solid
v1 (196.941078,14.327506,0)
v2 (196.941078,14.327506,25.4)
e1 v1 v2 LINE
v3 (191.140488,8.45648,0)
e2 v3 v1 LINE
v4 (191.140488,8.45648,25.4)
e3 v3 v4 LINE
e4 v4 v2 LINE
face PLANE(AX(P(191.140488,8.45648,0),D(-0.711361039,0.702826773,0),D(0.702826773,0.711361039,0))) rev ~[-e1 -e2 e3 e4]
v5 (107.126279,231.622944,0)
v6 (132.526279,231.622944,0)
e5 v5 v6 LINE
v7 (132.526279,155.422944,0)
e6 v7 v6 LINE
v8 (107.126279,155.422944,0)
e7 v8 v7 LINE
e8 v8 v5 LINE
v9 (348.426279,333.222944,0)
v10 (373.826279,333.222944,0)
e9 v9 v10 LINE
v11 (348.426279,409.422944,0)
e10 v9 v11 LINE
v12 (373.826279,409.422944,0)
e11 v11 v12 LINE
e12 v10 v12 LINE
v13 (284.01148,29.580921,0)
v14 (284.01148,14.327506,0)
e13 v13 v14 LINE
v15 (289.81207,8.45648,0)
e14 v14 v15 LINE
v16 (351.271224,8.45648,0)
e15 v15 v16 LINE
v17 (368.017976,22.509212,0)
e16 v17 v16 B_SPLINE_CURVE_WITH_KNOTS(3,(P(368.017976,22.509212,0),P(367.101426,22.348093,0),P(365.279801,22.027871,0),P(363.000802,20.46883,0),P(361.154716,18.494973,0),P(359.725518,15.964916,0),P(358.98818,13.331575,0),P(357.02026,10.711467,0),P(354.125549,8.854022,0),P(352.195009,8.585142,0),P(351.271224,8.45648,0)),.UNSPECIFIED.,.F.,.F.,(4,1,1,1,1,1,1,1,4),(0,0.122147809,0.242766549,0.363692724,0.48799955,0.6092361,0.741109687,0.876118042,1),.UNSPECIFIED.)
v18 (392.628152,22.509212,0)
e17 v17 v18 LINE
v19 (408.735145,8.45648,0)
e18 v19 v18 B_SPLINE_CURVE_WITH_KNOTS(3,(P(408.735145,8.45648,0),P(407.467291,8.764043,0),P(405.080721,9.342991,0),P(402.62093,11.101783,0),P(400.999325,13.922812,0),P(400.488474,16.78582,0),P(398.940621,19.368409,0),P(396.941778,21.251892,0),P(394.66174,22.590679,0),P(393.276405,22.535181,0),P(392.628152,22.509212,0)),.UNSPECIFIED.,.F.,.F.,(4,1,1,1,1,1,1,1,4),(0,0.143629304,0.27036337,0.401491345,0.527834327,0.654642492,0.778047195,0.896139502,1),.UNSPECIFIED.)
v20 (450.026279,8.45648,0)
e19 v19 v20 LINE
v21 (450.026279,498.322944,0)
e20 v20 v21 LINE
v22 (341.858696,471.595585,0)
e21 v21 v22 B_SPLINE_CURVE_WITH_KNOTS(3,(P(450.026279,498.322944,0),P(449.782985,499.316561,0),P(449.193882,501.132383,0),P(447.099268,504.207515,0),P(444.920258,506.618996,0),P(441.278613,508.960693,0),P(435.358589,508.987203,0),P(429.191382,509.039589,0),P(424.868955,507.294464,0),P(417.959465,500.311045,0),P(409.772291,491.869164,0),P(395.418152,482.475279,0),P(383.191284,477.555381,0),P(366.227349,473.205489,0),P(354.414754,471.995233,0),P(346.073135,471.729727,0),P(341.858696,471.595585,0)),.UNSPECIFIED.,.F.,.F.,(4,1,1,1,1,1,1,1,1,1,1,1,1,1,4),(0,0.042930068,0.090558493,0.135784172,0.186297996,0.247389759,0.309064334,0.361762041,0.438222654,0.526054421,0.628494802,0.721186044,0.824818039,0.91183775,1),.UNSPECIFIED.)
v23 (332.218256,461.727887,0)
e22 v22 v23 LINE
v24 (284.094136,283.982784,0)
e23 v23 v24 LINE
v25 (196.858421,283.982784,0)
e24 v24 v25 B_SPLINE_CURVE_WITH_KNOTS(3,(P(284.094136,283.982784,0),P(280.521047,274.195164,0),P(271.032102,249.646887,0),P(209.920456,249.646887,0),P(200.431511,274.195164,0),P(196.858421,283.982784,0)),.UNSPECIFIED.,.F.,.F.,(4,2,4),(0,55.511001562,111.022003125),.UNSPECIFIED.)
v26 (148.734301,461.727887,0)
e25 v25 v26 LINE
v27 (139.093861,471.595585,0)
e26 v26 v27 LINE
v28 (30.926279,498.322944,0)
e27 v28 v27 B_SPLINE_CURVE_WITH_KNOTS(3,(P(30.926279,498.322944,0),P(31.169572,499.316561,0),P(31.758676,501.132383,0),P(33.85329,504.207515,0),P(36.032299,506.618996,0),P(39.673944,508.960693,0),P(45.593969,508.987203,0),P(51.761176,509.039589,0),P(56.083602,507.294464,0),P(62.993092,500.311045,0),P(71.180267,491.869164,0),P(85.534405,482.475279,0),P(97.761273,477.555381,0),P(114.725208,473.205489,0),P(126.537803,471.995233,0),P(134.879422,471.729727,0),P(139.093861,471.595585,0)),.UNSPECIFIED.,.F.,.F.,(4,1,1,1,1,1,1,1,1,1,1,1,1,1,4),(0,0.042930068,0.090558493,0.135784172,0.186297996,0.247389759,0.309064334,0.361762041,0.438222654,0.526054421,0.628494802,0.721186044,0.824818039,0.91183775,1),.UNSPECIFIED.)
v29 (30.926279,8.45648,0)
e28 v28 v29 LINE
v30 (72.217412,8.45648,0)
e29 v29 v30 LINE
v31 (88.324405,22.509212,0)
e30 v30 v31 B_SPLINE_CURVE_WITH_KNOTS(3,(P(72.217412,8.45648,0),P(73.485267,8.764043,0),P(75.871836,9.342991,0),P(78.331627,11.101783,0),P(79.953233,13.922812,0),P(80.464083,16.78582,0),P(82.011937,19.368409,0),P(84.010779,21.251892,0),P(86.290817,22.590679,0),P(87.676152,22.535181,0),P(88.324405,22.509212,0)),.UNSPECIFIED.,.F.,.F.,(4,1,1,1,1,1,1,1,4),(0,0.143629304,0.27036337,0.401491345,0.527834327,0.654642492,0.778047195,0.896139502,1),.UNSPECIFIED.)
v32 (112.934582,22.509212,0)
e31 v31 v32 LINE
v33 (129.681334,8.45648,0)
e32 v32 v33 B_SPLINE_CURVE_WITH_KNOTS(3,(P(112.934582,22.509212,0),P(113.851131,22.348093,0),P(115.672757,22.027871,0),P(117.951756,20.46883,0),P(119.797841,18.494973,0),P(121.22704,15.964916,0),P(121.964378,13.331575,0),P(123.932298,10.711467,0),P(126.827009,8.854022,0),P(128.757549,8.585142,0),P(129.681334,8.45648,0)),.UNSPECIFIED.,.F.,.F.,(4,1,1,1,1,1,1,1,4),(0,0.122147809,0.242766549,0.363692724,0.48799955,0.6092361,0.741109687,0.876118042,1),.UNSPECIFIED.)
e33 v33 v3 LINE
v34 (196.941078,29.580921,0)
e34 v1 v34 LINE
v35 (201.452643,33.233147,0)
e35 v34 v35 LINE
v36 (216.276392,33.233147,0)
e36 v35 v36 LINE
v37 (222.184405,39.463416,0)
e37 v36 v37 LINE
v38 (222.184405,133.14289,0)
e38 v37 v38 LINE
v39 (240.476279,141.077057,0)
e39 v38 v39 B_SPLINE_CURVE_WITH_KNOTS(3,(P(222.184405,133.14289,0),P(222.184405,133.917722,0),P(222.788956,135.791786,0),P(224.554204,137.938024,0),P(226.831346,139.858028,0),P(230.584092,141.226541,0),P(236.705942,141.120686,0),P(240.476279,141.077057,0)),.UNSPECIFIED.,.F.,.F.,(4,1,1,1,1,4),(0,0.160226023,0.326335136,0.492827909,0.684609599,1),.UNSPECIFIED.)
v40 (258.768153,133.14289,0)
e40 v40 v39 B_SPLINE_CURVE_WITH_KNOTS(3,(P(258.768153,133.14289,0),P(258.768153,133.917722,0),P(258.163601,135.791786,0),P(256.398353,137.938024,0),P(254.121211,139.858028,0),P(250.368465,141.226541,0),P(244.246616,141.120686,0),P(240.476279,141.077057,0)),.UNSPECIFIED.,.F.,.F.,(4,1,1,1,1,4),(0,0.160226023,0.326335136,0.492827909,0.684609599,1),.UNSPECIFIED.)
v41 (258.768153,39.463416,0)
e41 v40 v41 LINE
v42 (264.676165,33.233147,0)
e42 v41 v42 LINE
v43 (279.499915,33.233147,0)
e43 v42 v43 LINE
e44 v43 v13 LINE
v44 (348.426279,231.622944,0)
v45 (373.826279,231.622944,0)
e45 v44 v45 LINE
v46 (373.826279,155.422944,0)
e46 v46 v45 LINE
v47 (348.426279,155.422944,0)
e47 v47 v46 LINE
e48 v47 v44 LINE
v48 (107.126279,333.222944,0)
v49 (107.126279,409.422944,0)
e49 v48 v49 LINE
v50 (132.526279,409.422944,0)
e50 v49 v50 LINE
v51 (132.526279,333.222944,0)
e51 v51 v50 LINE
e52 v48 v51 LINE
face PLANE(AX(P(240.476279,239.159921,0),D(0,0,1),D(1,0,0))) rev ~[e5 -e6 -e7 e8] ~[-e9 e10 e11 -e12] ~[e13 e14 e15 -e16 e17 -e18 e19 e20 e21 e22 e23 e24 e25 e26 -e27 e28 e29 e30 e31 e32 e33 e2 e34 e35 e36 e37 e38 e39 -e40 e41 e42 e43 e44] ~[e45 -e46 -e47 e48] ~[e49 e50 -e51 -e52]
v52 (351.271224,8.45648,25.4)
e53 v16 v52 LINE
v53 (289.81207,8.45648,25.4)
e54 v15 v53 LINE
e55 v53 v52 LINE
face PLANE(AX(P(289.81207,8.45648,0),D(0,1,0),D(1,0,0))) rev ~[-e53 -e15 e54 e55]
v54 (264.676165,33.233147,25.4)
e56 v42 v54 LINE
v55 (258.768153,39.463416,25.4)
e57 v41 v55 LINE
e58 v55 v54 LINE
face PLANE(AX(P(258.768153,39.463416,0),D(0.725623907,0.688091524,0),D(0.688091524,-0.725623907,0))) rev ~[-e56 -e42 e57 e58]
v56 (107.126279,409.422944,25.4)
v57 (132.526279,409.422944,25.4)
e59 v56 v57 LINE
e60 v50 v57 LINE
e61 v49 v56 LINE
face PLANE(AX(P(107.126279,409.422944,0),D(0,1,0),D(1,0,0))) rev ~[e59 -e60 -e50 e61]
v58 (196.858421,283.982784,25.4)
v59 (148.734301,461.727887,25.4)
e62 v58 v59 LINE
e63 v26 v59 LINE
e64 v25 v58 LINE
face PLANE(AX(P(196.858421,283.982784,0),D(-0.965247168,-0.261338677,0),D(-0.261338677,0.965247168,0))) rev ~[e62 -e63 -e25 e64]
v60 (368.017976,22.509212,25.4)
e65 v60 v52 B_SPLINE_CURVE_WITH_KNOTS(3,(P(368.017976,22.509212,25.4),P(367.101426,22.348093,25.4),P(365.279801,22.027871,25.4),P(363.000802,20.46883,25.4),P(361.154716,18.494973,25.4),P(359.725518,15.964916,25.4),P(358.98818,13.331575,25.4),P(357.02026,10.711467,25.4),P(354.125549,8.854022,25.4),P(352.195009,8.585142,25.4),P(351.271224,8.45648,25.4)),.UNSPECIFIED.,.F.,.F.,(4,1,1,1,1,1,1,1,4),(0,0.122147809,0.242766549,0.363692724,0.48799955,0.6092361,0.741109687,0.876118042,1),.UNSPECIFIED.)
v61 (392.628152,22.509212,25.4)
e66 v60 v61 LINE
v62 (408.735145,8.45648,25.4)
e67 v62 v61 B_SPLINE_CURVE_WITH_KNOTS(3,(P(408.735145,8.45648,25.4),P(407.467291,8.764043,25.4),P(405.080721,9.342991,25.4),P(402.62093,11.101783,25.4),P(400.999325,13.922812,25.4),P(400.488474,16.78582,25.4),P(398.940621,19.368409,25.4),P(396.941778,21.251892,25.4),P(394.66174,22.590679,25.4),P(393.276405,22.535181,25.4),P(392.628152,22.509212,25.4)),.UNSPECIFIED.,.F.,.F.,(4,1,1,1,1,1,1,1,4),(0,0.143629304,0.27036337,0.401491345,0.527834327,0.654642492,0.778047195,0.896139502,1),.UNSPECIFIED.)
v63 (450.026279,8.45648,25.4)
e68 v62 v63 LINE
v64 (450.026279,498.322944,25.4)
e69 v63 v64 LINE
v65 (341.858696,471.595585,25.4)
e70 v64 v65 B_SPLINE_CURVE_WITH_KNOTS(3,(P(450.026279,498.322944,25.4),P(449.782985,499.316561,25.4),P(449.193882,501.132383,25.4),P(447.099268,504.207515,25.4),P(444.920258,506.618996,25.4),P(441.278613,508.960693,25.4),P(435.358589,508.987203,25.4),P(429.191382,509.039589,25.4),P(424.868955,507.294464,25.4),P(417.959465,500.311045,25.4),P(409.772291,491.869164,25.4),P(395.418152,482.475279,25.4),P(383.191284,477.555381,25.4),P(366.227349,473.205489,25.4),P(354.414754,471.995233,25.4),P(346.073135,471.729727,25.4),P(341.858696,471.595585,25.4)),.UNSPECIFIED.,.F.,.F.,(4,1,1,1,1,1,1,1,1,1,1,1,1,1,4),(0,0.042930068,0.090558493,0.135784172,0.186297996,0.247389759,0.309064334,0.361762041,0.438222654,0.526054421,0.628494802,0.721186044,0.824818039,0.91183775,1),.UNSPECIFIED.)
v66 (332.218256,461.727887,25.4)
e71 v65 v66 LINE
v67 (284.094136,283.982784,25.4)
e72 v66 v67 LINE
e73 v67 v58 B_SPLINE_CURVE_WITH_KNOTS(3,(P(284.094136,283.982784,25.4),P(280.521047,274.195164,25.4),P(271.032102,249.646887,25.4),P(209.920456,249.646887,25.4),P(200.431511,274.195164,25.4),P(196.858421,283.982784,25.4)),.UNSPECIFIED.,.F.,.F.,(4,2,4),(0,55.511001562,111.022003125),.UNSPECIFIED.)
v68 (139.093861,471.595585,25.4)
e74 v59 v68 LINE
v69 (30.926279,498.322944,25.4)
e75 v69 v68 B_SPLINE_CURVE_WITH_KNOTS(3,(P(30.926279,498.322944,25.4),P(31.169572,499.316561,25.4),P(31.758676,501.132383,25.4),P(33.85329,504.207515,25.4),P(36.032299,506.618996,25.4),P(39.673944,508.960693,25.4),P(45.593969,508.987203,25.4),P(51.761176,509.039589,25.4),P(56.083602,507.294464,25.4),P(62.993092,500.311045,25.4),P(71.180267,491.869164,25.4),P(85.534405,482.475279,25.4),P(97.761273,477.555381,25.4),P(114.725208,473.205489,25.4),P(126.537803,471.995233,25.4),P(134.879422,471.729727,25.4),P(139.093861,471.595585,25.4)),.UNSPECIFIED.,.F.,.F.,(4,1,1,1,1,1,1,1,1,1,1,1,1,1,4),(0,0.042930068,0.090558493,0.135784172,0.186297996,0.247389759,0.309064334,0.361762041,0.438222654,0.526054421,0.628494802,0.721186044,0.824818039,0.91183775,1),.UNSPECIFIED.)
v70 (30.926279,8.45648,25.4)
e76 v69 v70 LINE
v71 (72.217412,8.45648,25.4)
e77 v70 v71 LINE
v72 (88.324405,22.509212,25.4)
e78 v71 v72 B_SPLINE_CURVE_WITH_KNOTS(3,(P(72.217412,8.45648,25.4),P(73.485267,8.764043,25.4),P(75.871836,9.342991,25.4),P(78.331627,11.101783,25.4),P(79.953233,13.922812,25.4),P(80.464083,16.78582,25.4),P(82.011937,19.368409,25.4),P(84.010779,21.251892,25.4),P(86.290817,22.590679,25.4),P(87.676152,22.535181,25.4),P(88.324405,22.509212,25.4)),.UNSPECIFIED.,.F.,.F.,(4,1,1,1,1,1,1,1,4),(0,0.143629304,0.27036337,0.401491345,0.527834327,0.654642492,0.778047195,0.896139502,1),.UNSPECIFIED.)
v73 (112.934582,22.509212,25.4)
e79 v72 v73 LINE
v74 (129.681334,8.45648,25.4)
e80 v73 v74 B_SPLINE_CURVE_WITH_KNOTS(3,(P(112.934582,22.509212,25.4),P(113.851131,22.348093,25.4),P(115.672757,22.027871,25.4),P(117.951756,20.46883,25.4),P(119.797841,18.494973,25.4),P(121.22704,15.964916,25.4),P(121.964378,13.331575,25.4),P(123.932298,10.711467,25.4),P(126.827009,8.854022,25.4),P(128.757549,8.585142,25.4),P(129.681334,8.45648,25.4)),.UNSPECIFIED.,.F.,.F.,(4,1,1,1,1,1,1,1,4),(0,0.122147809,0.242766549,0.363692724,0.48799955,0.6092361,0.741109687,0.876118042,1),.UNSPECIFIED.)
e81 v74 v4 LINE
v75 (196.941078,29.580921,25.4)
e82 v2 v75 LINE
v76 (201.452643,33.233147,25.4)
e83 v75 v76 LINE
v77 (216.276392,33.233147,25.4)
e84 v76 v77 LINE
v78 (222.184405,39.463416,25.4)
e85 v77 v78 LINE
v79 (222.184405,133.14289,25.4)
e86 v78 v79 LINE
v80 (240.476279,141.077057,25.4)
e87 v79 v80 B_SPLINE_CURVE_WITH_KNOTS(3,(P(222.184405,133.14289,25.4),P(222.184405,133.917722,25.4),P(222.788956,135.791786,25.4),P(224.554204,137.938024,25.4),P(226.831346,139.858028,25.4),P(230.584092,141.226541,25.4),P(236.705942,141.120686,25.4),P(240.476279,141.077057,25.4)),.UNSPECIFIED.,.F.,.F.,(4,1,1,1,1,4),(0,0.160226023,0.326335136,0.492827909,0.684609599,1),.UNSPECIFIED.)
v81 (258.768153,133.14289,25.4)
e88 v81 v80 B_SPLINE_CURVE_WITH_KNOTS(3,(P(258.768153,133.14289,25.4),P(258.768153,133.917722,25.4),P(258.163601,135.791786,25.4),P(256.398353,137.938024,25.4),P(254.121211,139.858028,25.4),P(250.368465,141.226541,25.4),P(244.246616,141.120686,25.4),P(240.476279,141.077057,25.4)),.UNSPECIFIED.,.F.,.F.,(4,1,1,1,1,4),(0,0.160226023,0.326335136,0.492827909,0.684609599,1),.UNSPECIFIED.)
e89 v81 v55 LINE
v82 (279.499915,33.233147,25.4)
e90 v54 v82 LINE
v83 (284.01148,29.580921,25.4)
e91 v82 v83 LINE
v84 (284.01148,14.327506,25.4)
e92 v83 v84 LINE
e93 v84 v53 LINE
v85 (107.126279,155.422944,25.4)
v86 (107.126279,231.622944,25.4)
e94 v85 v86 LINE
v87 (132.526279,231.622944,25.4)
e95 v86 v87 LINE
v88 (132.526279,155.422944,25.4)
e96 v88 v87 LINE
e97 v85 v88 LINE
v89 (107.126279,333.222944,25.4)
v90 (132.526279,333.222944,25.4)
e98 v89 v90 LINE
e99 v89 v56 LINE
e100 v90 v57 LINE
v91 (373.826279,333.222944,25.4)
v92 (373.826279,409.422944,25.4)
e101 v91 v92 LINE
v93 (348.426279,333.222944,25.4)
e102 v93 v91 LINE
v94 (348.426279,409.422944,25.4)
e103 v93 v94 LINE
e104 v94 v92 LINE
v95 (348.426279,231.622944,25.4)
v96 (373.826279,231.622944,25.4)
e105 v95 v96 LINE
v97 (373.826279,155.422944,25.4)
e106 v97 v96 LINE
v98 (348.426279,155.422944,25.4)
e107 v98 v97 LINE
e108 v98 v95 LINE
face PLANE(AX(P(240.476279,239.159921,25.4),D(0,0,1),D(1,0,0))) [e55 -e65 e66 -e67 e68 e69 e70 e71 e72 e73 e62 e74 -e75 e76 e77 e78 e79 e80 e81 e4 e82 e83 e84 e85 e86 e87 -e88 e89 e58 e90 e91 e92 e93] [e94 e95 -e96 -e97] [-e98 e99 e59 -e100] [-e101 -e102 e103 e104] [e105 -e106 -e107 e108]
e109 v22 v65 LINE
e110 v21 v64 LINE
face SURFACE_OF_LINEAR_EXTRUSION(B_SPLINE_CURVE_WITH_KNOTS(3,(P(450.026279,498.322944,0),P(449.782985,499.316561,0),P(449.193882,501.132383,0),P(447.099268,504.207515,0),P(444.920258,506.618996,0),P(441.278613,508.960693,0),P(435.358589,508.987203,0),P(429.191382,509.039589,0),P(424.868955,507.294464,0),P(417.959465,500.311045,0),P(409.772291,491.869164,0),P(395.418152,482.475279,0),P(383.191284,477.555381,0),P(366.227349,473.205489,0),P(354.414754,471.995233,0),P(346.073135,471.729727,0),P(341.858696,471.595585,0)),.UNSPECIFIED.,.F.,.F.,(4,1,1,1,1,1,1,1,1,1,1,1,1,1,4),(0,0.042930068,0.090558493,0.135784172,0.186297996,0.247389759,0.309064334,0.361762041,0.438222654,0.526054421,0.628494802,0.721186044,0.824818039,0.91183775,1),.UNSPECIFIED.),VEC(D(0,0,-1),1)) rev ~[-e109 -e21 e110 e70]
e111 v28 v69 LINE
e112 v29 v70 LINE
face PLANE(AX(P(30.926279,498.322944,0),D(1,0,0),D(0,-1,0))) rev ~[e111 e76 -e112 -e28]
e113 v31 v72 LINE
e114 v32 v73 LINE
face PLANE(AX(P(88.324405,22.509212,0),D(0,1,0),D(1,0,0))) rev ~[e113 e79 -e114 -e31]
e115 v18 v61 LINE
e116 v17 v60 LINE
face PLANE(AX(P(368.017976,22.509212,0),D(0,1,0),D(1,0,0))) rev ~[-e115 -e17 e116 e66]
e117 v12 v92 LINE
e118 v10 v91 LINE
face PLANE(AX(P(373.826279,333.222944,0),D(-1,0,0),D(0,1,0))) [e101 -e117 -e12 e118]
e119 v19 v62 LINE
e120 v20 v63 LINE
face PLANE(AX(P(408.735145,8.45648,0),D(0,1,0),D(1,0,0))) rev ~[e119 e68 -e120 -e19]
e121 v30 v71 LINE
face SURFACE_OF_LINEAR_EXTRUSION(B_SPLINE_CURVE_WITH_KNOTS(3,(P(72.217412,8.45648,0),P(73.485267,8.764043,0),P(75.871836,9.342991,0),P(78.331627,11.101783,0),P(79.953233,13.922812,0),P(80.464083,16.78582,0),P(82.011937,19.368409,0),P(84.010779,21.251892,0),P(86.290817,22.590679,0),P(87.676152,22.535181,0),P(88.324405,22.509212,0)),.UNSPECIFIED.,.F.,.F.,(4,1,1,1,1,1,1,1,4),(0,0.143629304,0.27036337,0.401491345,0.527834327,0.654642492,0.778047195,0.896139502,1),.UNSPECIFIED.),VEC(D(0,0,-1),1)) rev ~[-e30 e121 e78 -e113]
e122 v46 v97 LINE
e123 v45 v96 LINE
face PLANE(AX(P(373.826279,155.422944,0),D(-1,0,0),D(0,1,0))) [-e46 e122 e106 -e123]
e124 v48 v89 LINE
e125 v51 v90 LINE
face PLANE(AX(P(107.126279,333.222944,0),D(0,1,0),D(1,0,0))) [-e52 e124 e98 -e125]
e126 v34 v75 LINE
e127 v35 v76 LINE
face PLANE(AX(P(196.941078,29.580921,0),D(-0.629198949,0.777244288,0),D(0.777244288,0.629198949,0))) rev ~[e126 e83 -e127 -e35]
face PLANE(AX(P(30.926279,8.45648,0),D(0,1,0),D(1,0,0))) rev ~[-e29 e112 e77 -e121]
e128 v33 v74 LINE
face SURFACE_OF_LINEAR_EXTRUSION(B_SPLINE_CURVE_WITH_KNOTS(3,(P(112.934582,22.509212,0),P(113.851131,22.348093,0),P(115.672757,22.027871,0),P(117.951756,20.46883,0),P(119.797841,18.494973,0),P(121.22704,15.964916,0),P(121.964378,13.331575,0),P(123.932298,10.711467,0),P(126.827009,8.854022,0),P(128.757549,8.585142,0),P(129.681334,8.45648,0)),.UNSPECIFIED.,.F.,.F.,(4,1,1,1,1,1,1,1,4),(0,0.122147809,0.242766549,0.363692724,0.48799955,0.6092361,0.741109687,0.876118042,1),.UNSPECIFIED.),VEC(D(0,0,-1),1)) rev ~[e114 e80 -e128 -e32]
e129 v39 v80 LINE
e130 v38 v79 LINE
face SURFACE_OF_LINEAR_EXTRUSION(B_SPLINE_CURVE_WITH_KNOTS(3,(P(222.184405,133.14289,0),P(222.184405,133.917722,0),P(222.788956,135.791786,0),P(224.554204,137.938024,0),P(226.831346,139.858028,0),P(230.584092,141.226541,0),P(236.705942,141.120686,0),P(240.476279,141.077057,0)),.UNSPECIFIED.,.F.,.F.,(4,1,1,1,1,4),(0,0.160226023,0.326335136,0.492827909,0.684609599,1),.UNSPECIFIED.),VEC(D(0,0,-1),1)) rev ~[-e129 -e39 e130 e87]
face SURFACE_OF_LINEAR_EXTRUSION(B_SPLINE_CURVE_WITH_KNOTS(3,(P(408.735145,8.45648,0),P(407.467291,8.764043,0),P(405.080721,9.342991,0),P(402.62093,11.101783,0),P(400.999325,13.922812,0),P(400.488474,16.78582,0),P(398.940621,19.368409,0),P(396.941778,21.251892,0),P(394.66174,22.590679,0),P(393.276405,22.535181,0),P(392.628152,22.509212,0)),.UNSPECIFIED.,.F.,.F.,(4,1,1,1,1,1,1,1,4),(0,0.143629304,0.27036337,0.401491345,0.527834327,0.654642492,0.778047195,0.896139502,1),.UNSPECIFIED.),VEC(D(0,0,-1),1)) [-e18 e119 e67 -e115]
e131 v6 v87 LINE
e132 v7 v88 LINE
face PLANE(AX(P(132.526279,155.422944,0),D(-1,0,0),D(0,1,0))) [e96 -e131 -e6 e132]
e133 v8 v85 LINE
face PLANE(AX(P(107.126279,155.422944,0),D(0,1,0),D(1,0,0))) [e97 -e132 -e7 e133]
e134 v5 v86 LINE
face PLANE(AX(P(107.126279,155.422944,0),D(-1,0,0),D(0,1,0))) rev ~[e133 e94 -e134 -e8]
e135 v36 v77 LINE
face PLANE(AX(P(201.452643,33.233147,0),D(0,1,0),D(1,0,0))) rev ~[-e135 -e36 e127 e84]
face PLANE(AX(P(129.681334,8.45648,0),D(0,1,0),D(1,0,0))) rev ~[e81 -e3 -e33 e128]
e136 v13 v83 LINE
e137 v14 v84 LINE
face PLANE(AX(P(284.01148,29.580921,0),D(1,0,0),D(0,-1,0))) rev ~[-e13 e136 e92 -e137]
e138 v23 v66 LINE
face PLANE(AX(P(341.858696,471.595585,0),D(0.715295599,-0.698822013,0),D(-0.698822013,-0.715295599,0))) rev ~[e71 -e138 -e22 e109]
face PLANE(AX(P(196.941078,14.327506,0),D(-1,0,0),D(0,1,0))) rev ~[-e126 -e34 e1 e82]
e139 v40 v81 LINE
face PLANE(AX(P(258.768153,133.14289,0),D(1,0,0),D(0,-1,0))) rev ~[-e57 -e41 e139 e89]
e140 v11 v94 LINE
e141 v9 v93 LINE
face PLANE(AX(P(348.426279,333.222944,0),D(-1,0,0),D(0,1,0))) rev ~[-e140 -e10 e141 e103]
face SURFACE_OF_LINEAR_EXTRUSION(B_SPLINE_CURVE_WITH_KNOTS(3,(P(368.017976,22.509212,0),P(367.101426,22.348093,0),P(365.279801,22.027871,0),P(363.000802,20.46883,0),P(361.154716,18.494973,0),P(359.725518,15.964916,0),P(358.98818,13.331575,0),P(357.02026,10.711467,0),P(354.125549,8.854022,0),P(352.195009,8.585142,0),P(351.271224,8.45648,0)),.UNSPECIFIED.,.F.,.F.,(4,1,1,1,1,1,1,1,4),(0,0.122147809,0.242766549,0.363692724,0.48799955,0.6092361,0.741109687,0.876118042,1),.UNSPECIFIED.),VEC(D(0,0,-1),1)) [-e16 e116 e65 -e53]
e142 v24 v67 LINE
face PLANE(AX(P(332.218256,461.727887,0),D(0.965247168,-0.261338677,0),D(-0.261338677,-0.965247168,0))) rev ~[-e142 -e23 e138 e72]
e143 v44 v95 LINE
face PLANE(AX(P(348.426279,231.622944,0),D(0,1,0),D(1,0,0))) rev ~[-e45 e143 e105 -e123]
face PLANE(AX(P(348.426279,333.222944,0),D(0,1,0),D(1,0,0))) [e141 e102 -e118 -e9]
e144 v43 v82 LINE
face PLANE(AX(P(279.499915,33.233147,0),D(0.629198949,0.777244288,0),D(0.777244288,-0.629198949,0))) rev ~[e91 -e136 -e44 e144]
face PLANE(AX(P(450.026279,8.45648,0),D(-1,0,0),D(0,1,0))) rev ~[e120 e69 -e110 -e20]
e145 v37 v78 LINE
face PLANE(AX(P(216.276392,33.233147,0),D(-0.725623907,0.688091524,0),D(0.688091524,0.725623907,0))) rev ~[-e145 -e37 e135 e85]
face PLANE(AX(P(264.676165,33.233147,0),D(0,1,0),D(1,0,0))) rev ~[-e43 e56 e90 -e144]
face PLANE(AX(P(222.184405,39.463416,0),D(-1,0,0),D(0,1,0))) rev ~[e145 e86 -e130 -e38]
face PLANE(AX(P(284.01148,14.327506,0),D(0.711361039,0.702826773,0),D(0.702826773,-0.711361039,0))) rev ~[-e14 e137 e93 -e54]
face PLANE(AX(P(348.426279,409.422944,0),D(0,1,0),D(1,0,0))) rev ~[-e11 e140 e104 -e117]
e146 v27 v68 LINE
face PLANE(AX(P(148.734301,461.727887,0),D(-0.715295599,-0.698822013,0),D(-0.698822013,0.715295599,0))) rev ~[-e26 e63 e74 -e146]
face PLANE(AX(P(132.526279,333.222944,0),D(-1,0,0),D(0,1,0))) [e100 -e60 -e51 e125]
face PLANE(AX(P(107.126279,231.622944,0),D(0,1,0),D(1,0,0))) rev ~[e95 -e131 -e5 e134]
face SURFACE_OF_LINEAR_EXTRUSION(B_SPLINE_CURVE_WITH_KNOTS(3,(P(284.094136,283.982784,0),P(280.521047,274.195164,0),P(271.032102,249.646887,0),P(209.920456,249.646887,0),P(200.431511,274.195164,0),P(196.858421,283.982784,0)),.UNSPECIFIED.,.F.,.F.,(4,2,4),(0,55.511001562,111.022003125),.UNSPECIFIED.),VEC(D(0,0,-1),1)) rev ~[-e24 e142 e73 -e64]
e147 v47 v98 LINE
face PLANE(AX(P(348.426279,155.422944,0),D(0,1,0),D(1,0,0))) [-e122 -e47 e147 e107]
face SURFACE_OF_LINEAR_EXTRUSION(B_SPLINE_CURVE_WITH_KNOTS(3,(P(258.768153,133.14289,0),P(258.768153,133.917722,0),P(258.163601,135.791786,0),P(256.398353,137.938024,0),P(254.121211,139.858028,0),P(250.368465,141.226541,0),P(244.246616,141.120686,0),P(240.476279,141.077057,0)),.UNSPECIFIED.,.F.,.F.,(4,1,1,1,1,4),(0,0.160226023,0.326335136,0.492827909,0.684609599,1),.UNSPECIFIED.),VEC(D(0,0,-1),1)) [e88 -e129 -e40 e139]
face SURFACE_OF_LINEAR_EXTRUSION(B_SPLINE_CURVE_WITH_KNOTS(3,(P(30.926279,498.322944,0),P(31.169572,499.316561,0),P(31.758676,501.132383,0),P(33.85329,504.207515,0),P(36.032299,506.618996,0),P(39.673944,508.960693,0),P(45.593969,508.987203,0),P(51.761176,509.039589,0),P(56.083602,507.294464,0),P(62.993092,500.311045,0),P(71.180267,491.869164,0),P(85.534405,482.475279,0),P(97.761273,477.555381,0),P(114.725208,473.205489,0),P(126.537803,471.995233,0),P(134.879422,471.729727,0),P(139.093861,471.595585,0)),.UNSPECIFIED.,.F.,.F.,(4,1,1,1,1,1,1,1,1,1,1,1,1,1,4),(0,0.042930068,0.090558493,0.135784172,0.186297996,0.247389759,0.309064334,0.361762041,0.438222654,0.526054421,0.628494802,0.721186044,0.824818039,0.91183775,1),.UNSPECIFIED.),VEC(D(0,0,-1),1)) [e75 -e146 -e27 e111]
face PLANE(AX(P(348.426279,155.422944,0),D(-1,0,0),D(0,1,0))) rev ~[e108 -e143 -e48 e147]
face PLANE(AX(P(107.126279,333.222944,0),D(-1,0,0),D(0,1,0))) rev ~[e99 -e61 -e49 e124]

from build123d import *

# Parameters (mm, degrees)
F0_W     = 25.4
F0_H     = 76.2
F1_DEPTH = 25.4


with BuildPart() as f1:
    # F0 (on Top) → F1 (new body)
    with BuildSketch(Plane.XY):
        with BuildLine():
            Line((30.9262787184, 498.3229439005), (30.9262787184, 8.456480433))
            Line((30.9262787184, 8.456480433), (72.217412293, 8.456480433))
            add(Edge.make_bspline(
                [(72.217412293, 8.456480433), (73.4852665028, 8.7640434819), (75.8718361425, 9.3429906739), (78.3316272813, 11.1017833794), (79.9532326715, 13.9228117219), (80.4640832014, 16.785820321), (82.01193683, 19.3684086545), (84.0107794765, 21.2518918863), (86.2908170535, 22.5906793688), (87.6761521556, 22.5351813792), (88.3244052529, 22.5092116743)],
                knots=[0, 0, 0, 0, 0.1436293041, 0.2703633698, 0.4014913452, 0.5278343271, 0.6546424922, 0.7780471952, 0.8961395023, 1, 1, 1, 1], degree=3))
            Line((88.3244052529, 22.5092116743), (112.9345819354, 22.5092116743))
            add(Edge.make_bspline(
                [(112.9345819354, 22.5092116743), (113.851131377, 22.3480925968), (115.6727567197, 22.027871361), (117.9517558244, 20.4688298476), (119.7978413404, 18.4949734034), (121.2270398065, 15.9649157252), (121.964377889, 13.3315753939), (123.9322978467, 10.7114673584), (126.8270087303, 8.8540221315), (128.7575486175, 8.5851424278), (129.6813338995, 8.456480433)],
                knots=[0, 0, 0, 0, 0.1221478091, 0.2427665486, 0.3636927244, 0.4879995502, 0.6092361004, 0.7411096874, 0.8761180424, 1, 1, 1, 1], degree=3))
            Line((129.6813338995, 8.456480433), (191.1404877901, 8.456480433))
            Line((191.1404877901, 8.456480433), (196.9410777092, 14.3275056034))
            Line((196.9410777092, 14.3275056034), (196.9410777092, 29.5809209347))
            Line((196.9410777092, 29.5809209347), (201.4526426792, 33.2331471145))
            Line((201.4526426792, 33.2331471145), (216.2763923407, 33.2331471145))
            Line((216.2763923407, 33.2331471145), (222.1844047308, 39.4634157419))
            Line((222.1844047308, 39.4634157419), (222.1844047308, 133.1428903466))
            add(Edge.make_bspline(
                [(222.1844047308, 133.1428903466), (222.1844047308, 133.917721602), (222.7889561103, 135.7917858002), (224.5542041207, 137.9380244961), (226.8313464383, 139.8580278247), (230.5840922784, 141.2265412177), (236.7059416254, 141.1206859667), (240.4762787184, 141.0770565328)],
                knots=[0, 0, 0, 0, 0.1602260225, 0.3263351359, 0.4928279093, 0.6846095993, 1, 1, 1, 1], degree=3))
            add(Edge.make_bspline(
                [(258.7681527059, 133.1428903466), (258.7681527059, 133.917721602), (258.1636013264, 135.7917858002), (256.3983533161, 137.9380244961), (254.1212109984, 139.8580278247), (250.3684651583, 141.2265412177), (244.2466158113, 141.1206859667), (240.4762787184, 141.0770565328)],
                knots=[0, 0, 0, 0, 0.1602260225, 0.3263351359, 0.4928279093, 0.6846095993, 1, 1, 1, 1], degree=3))
            Line((258.7681527059, 133.1428903466), (258.7681527059, 39.4634157419))
            Line((258.7681527059, 39.4634157419), (264.6761650961, 33.2331471145))
            Line((264.6761650961, 33.2331471145), (279.4999147575, 33.2331471145))
            Line((279.4999147575, 33.2331471145), (284.0114797275, 29.5809209347))
            Line((284.0114797275, 29.5809209347), (284.0114797275, 14.3275056034))
            Line((284.0114797275, 14.3275056034), (289.8120696466, 8.456480433))
            Line((289.8120696466, 8.456480433), (351.2712235372, 8.456480433))
            add(Edge.make_bspline(
                [(368.0179755013, 22.5092116743), (367.1014260597, 22.3480925968), (365.279800717, 22.027871361), (363.0008016123, 20.4688298476), (361.1547160963, 18.4949734034), (359.7255176302, 15.9649157252), (358.9881795477, 13.3315753939), (357.02025959, 10.7114673584), (354.1255487064, 8.8540221315), (352.1950088192, 8.5851424278), (351.2712235372, 8.456480433)],
                knots=[0, 0, 0, 0, 0.1221478091, 0.2427665486, 0.3636927244, 0.4879995502, 0.6092361004, 0.7411096874, 0.8761180424, 1, 1, 1, 1], degree=3))
            Line((368.0179755013, 22.5092116743), (392.6281521838, 22.5092116743))
            add(Edge.make_bspline(
                [(408.7351451438, 8.456480433), (407.4672909339, 8.7640434819), (405.0807212943, 9.3429906739), (402.6209301554, 11.1017833794), (400.9993247652, 13.9228117219), (400.4884742353, 16.785820321), (398.9406206067, 19.3684086545), (396.9417779602, 21.2518918863), (394.6617403832, 22.5906793688), (393.2764052811, 22.5351813792), (392.6281521838, 22.5092116743)],
                knots=[0, 0, 0, 0, 0.1436293041, 0.2703633698, 0.4014913452, 0.5278343271, 0.6546424922, 0.7780471952, 0.8961395023, 1, 1, 1, 1], degree=3))
            Line((408.7351451438, 8.456480433), (450.0262787184, 8.456480433))
            Line((450.0262787184, 8.456480433), (450.0262787184, 498.3229439005))
            add(Edge.make_bspline(
                [(450.0262787184, 498.3229439005), (449.7829850555, 499.3165610744), (449.1938815183, 501.1323831233), (447.0992675249, 504.2075151676), (444.9202583684, 506.6189963609), (441.2786130548, 508.9606932529), (435.358588646, 508.9872032227), (429.1913815619, 509.0395894009), (424.868955416, 507.2944637448), (417.9594650405, 500.3110453826), (409.7722905448, 491.8691640983), (395.4181520753, 482.4752786022), (383.1912839921, 477.5553814908), (366.2273491553, 473.2054893474), (354.4147543645, 471.9952327705), (346.0731351848, 471.7297269486), (341.8586964529, 471.5955853462)],
                knots=[0, 0, 0, 0, 0.0429300681, 0.0905584934, 0.1357841716, 0.1862979961, 0.247389759, 0.3090643341, 0.3617620414, 0.4382226544, 0.5260544206, 0.6284948022, 0.7211860438, 0.8248180391, 0.9118377504, 1, 1, 1, 1], degree=3))
            Line((341.8586964529, 471.5955853462), (332.2182561081, 461.727887392))
            Line((332.2182561081, 461.727887392), (284.0941364687, 283.982783556))
            add(Edge.make_bspline(
                [(284.0941364687, 283.982783556), (280.5210466306, 274.1951644421), (271.0321016609, 249.6468871832), (240.4762787184, 249.6468871832)],
                knots=[0, 0, 0, 0, 55.5110015623, 55.5110015623, 55.5110015623, 55.5110015623], degree=3))
            add(Edge.make_bspline(
                [(196.8584209681, 283.982783556), (200.4315108061, 274.1951644421), (209.9204557758, 249.6468871832), (240.4762787184, 249.6468871832)],
                knots=[0, 0, 0, 0, 55.5110015623, 55.5110015623, 55.5110015623, 55.5110015623], degree=3))
            Line((196.8584209681, 283.982783556), (148.7343013287, 461.727887392))
            Line((148.7343013287, 461.727887392), (139.0938609838, 471.5955853462))
            add(Edge.make_bspline(
                [(30.9262787184, 498.3229439005), (31.1695723812, 499.3165610744), (31.7586759185, 501.1323831233), (33.8532899119, 504.2075151676), (36.0322990684, 506.6189963609), (39.6739443819, 508.9606932529), (45.5939687907, 508.9872032227), (51.7611758749, 509.0395894009), (56.0836020207, 507.2944637448), (62.9930923962, 500.3110453826), (71.1802668919, 491.8691640983), (85.5344053615, 482.4752786022), (97.7612734446, 477.5553814908), (114.7252082814, 473.2054893474), (126.5378030722, 471.9952327705), (134.8794222519, 471.7297269486), (139.0938609838, 471.5955853462)],
                knots=[0, 0, 0, 0, 0.0429300681, 0.0905584934, 0.1357841716, 0.1862979961, 0.247389759, 0.3090643341, 0.3617620414, 0.4382226544, 0.5260544206, 0.6284948022, 0.7211860438, 0.8248180391, 0.9118377504, 1, 1, 1, 1], degree=3))
        make_face()
        with Locations((119.8262787184, 193.5229439005)):
            Rectangle(F0_W, F0_H, mode=Mode.SUBTRACT)
        with Locations((361.1262787184, 193.5229439005)):
            Rectangle(F0_W, F0_H, mode=Mode.SUBTRACT)
        with Locations((119.8262787184, 371.3229439005)):
            Rectangle(F0_W, F0_H, mode=Mode.SUBTRACT)
        with Locations((361.1262787184, 371.3229439005)):
            Rectangle(F0_W, F0_H, mode=Mode.SUBTRACT)
    extrude(amount=F1_DEPTH)


solid = f1.part
